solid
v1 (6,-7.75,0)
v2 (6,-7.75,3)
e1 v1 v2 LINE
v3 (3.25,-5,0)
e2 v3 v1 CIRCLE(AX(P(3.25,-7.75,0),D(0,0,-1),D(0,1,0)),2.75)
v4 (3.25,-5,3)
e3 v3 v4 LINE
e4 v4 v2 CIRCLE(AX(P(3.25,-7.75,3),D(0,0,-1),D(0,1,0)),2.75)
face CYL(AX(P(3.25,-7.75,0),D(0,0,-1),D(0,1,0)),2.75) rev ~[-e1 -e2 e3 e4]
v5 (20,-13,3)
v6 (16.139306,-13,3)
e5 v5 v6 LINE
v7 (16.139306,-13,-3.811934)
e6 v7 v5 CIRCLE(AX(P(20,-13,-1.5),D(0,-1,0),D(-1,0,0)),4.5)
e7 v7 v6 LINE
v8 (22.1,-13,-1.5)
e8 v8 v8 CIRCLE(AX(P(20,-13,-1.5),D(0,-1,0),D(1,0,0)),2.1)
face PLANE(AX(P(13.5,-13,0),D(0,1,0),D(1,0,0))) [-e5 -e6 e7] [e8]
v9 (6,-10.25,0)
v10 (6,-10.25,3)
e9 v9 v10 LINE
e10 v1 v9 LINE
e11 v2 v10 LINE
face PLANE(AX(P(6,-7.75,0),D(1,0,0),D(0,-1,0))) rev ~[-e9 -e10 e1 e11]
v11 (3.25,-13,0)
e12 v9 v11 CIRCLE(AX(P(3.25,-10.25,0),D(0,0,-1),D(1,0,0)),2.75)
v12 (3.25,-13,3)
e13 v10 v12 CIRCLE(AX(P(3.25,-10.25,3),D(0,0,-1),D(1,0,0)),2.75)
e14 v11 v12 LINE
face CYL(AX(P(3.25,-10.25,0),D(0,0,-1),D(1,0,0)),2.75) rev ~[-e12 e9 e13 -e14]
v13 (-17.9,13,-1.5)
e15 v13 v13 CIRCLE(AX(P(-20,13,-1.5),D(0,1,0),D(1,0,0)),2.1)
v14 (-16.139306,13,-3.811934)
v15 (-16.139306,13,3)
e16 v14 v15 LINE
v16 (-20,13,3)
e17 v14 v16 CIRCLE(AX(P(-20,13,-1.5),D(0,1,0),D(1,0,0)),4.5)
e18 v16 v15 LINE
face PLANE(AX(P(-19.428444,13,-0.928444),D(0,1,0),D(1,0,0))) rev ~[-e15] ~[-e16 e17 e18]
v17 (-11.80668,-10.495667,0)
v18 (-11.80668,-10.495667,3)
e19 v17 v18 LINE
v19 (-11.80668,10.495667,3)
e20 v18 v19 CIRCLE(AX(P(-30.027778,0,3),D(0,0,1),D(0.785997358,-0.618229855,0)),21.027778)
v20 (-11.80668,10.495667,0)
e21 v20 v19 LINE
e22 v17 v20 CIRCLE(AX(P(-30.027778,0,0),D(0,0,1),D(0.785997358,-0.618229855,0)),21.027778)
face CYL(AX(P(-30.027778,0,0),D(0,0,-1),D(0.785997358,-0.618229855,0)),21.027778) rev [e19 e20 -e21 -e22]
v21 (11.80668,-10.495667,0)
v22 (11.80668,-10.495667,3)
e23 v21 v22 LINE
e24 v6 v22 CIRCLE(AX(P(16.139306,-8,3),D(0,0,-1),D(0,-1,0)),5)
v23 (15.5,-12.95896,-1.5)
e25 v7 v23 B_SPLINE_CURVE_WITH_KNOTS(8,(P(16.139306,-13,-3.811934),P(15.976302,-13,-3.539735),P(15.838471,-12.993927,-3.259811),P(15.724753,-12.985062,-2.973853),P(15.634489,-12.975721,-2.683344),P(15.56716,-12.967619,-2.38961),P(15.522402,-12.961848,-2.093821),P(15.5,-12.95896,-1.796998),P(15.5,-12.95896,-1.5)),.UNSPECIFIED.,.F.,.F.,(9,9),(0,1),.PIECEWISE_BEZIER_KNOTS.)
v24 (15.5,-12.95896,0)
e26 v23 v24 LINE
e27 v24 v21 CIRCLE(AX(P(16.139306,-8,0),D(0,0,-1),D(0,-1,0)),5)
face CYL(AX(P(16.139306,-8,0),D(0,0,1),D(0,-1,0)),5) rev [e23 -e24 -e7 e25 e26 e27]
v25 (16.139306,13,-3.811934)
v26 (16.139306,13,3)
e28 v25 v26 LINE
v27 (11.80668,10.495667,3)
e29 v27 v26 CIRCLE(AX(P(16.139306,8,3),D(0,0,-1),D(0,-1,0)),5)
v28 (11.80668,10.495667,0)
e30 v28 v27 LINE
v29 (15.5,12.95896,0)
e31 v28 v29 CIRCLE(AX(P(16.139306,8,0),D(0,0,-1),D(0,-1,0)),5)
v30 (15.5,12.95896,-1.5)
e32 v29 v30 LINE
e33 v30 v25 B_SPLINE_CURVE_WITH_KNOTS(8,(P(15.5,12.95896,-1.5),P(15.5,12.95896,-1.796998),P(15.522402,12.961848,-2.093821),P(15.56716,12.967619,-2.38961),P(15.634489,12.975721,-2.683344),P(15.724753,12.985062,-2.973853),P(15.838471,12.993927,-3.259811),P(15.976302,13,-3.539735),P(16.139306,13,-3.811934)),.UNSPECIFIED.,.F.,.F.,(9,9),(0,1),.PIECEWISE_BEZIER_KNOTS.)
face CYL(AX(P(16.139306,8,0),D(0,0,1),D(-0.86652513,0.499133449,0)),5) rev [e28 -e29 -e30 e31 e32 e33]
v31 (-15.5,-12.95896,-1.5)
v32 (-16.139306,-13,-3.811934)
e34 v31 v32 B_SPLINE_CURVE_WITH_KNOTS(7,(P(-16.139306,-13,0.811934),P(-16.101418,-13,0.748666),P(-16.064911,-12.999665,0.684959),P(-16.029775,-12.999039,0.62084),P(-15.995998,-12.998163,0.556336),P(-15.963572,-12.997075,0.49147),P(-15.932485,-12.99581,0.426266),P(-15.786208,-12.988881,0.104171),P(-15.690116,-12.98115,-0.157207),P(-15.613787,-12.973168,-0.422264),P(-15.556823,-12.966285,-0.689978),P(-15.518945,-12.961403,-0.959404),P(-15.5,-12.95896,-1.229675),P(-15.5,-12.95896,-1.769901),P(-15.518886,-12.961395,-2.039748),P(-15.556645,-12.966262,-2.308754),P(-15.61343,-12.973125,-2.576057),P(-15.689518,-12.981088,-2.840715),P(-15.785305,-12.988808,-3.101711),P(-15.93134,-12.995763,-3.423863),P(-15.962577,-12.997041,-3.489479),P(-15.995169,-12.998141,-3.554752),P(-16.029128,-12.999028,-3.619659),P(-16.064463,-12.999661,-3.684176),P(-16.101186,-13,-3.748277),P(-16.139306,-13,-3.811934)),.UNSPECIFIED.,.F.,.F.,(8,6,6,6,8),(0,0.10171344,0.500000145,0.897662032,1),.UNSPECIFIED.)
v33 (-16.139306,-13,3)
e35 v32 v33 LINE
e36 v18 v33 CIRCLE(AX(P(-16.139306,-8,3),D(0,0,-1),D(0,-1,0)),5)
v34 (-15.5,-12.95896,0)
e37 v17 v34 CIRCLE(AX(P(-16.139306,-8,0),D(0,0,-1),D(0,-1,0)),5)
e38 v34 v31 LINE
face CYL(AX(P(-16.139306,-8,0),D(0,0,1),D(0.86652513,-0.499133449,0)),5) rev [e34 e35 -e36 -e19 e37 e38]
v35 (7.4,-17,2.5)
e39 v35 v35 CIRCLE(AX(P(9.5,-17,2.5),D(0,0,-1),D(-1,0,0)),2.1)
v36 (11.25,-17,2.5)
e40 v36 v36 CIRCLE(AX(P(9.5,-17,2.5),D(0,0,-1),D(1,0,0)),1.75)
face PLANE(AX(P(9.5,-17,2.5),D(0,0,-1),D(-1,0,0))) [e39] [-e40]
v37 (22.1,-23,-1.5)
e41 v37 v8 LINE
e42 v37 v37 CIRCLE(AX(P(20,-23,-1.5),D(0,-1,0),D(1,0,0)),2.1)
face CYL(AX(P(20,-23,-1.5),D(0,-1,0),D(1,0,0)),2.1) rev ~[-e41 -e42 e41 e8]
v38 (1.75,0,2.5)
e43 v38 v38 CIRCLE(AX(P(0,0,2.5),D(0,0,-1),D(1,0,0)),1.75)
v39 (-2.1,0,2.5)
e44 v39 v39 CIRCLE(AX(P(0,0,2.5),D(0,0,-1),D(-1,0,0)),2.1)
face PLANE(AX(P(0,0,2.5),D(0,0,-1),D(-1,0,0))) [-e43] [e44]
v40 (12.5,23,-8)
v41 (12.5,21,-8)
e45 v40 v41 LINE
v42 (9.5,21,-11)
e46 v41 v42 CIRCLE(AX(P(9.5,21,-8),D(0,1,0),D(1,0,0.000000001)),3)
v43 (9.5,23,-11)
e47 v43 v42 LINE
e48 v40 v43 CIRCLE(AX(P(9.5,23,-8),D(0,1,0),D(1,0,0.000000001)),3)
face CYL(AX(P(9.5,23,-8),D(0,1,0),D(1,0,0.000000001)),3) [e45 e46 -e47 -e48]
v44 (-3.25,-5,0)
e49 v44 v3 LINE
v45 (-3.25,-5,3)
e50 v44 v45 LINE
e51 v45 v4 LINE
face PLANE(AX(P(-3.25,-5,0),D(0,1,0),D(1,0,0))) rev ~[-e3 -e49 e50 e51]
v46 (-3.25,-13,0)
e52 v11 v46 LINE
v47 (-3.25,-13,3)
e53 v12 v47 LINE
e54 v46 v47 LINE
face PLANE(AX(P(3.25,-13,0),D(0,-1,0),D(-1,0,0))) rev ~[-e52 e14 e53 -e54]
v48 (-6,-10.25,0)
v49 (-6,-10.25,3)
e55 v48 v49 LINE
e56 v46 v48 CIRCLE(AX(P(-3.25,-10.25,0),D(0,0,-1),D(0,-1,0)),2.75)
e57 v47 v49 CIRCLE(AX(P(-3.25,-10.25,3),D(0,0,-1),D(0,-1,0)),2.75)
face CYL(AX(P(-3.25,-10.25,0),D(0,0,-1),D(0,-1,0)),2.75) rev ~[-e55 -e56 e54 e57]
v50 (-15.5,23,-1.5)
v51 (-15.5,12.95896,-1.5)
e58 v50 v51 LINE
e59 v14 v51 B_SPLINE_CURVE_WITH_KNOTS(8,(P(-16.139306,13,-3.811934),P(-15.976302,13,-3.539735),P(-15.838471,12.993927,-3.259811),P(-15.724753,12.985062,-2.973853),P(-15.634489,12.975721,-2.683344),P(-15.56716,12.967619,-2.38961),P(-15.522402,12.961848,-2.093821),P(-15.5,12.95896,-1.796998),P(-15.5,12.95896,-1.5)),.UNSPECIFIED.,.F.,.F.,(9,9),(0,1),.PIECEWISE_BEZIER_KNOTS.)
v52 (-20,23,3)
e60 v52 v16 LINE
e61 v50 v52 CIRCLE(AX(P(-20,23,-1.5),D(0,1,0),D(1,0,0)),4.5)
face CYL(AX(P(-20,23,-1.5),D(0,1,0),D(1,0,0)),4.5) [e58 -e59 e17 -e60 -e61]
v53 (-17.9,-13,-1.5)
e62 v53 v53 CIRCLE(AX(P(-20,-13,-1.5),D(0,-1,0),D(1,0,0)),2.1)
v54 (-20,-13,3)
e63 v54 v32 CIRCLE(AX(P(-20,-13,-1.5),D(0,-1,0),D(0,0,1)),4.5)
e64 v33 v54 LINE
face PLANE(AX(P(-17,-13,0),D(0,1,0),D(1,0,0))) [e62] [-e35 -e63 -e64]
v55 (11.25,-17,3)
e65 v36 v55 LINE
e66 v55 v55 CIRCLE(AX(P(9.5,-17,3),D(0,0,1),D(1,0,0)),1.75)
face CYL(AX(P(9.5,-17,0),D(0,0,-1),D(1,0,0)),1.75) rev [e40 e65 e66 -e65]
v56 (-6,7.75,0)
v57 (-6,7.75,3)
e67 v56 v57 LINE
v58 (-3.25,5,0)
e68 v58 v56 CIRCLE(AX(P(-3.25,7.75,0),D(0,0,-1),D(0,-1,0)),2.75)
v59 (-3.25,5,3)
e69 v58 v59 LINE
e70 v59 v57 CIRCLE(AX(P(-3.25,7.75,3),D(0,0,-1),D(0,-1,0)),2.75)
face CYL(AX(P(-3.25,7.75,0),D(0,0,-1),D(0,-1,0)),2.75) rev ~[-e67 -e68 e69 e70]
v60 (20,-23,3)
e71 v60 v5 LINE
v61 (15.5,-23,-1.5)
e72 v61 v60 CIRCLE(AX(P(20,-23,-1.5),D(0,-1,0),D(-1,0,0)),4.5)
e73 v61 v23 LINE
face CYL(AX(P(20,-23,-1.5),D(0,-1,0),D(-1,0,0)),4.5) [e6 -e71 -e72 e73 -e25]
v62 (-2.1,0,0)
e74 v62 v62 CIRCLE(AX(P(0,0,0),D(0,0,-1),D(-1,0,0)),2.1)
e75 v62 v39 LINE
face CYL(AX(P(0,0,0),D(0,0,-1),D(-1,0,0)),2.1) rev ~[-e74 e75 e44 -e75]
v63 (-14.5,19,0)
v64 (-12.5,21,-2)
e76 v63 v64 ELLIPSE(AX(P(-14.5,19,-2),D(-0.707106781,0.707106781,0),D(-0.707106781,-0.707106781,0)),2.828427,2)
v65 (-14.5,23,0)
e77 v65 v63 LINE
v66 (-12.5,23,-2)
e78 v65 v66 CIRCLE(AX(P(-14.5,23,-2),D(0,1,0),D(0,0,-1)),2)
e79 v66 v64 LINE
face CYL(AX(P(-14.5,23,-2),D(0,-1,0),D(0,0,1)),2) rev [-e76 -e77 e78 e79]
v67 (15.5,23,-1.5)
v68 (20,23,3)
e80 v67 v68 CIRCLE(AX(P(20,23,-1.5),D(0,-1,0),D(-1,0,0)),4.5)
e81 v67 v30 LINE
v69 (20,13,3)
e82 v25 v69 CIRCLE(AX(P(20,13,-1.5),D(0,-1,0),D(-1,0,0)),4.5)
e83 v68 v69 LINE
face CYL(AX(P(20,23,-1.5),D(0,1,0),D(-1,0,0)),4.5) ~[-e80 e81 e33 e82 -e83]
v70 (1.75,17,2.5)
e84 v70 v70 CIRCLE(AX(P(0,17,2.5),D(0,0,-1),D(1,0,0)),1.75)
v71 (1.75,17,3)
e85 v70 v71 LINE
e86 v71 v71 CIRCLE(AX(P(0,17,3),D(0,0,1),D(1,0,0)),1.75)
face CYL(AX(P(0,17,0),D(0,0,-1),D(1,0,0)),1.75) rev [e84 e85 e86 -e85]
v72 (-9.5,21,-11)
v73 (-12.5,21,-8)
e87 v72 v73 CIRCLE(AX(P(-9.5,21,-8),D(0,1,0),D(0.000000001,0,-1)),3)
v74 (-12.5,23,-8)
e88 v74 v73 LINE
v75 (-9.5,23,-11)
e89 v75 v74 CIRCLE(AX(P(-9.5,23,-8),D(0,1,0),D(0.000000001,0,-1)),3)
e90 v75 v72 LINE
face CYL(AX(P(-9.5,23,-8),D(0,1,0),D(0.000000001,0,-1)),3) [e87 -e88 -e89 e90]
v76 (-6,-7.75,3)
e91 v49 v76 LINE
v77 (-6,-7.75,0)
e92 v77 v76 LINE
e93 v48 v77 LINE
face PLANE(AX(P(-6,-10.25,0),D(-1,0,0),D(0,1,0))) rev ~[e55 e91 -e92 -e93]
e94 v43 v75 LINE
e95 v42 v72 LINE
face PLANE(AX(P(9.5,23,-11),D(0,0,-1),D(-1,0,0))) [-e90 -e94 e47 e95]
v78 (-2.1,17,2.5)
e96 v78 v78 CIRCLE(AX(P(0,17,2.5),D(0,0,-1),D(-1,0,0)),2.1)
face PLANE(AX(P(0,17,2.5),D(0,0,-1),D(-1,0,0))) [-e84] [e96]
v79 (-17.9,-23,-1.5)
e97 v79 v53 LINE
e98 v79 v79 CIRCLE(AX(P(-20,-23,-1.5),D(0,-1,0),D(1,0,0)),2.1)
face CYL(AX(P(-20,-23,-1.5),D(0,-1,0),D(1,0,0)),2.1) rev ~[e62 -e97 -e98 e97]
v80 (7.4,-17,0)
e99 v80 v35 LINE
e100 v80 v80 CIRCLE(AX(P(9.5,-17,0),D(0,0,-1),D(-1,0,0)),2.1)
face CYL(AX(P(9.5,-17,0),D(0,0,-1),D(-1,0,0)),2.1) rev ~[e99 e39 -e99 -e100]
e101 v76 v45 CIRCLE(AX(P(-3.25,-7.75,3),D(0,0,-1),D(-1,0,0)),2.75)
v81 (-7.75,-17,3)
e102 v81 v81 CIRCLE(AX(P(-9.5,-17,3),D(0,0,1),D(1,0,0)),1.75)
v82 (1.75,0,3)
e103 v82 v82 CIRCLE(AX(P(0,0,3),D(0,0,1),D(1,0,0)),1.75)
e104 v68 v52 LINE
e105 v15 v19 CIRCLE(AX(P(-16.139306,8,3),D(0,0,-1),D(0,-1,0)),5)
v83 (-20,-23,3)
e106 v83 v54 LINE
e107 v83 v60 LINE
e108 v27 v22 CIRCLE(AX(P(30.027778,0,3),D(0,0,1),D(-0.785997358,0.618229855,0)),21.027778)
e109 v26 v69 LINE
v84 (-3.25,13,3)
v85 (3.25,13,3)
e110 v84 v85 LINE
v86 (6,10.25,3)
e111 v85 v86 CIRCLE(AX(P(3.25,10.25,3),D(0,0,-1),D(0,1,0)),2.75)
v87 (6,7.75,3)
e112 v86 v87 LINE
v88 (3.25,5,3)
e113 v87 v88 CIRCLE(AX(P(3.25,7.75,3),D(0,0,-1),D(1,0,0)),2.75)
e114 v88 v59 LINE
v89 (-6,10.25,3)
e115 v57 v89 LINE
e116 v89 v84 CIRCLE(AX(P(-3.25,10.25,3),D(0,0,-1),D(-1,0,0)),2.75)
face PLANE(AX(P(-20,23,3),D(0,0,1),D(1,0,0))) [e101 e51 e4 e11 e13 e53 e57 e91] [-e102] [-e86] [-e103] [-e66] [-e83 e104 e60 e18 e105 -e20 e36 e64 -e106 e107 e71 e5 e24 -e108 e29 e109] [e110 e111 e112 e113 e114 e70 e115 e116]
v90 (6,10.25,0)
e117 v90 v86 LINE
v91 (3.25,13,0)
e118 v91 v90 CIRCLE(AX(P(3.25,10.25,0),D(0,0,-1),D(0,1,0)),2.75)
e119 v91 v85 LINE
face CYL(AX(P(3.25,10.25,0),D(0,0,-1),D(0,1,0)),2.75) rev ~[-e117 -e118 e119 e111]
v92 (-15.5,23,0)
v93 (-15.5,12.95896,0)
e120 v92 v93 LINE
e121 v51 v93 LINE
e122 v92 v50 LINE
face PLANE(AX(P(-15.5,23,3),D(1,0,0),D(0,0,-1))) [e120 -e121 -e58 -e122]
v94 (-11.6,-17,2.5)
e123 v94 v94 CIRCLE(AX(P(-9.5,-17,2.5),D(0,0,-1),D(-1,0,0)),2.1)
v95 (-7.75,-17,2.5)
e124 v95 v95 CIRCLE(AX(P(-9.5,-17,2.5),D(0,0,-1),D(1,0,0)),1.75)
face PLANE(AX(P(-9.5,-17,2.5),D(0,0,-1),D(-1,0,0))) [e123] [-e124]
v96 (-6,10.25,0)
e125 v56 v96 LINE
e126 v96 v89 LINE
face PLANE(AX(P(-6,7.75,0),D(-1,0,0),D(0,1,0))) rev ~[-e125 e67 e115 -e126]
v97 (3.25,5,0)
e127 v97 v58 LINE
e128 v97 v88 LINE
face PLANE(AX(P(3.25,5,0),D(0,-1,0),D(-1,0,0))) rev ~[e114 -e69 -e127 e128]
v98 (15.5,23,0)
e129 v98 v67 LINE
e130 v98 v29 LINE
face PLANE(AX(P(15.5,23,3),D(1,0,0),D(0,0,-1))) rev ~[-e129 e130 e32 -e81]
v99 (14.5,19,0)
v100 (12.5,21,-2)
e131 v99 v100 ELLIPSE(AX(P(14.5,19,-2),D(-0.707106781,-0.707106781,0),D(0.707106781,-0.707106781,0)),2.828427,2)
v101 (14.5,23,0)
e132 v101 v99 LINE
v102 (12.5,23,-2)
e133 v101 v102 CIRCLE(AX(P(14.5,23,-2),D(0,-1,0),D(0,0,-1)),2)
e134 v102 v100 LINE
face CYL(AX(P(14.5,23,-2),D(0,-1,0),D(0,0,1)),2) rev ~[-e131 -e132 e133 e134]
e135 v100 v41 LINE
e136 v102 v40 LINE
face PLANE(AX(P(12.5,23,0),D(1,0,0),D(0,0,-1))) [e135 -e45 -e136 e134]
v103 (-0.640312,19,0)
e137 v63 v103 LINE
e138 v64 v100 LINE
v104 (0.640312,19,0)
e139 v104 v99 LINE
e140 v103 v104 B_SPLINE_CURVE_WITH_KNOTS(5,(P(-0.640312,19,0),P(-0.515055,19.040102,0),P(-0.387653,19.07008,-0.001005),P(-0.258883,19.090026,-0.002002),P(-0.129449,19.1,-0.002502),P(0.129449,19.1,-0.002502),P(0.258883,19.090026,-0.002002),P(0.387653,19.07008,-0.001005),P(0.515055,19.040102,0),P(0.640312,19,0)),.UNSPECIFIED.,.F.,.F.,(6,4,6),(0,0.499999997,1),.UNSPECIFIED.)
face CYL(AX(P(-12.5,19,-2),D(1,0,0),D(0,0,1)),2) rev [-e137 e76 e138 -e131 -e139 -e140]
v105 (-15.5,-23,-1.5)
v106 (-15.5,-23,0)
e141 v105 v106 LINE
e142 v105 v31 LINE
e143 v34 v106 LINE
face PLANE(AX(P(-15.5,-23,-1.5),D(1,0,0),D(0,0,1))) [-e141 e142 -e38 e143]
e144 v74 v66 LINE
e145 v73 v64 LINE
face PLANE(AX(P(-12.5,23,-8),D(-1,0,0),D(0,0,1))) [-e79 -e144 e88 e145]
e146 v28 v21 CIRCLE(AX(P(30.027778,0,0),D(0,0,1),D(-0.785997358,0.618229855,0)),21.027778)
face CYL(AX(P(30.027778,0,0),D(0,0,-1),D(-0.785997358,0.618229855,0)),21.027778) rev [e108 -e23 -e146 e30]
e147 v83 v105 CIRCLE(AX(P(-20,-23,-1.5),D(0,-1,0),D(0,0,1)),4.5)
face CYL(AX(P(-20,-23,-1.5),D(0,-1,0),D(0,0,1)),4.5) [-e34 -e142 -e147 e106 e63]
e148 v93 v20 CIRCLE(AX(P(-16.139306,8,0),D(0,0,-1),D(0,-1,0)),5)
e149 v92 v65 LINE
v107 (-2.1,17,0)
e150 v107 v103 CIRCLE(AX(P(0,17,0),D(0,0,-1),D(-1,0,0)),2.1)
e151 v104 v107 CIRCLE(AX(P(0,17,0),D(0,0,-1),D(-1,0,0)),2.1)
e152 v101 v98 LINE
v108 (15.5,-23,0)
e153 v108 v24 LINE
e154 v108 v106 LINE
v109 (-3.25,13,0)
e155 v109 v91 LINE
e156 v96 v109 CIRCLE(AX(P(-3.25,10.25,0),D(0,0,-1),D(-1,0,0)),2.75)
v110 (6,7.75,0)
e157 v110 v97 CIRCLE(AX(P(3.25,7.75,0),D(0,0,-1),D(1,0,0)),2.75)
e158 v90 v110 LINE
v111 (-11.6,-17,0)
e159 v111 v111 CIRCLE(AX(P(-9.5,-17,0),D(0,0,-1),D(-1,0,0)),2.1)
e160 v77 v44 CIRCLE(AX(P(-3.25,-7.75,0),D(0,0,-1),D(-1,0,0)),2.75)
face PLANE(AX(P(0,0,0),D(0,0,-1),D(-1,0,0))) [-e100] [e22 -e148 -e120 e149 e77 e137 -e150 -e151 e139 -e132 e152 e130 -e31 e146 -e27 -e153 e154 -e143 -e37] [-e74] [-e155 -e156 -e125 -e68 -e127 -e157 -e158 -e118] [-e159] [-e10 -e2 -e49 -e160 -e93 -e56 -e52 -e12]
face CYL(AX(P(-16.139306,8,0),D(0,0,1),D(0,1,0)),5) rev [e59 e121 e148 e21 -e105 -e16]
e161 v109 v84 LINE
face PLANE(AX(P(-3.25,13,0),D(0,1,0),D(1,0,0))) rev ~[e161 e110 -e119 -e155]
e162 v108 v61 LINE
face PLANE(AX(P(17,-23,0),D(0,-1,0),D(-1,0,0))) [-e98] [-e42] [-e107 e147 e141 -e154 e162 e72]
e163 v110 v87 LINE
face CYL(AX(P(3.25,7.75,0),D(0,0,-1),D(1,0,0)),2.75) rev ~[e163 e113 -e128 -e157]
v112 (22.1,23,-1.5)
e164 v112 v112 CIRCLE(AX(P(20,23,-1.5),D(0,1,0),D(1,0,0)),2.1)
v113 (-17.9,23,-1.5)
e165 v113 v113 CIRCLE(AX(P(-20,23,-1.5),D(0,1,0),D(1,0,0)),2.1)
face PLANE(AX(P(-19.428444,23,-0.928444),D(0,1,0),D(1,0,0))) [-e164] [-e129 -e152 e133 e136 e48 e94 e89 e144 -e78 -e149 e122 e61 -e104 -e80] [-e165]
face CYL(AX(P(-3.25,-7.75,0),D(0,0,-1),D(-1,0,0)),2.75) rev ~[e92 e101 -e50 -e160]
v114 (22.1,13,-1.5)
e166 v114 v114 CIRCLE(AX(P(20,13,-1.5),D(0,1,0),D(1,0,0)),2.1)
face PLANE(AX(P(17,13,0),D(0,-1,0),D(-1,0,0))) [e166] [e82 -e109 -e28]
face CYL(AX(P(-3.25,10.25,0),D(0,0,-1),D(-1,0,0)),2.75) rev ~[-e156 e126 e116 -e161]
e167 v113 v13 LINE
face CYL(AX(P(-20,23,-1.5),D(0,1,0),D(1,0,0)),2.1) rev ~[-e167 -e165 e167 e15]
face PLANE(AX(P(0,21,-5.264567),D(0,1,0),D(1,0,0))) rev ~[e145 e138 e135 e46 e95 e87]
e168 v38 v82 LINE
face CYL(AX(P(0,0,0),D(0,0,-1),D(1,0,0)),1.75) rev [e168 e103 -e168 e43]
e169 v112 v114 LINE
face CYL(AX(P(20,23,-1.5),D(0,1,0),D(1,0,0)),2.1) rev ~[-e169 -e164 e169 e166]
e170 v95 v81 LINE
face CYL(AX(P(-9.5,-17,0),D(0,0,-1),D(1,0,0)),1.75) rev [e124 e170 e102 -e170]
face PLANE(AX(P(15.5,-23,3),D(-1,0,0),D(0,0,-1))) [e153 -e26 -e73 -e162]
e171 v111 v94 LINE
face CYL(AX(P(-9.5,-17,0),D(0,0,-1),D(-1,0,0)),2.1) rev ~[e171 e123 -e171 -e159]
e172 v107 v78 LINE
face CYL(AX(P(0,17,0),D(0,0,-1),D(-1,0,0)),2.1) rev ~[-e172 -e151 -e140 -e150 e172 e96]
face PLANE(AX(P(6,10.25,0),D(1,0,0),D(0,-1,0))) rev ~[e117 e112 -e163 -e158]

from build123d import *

# Parameters (mm, degrees)
SKETCH1_R               = 1.75
BOSS_EXTRUDE1_DEPTH     = 3
SKETCH2_R               = 2.1
BOSS_EXTRUDE2_DEPTH     = 10
SKETCH3_R               = 2.1
BOSS_EXTRUDE3_DEPTH     = 10
BOSS_EXTRUDE4_DEPTH     = 2
FILLET1_R               = 2
SKETCH6_R               = 2.1
CUT_EXTRUDE1_DEPTH      = 12
CUT_EXTRUDE1_DEPTH_BACK = 2.5
FILLET2_R               = 5


with BuildPart() as part:
    # Sketch1 → Boss-Extrude1 (new body)
    with BuildSketch(Plane.XY):
        with BuildLine():
            Line((-17, 23), (17, 23))
            Line((17, 23), (17, 13))
            Line((17, 13), (13.5, 13))
            ThreePointArc((13.5, 13), (9, 0), (13.5, -13))
            Line((13.5, -13), (17, -13))
            Line((17, -13), (17, -23))
            Line((17, -23), (-17, -23))
            Line((-17, -23), (-17, -13))
            Line((-17, -13), (-13.5, -13))
            ThreePointArc((-13.5, -13), (-9, 0), (-13.5, 13))
            Line((-13.5, 13), (-17, 13))
            Line((-17, 13), (-17, 23))
        make_face()
        Circle(SKETCH1_R, mode=Mode.SUBTRACT)
        with Locations((0, 17)):
            Circle(SKETCH1_R, mode=Mode.SUBTRACT)
        with Locations((-9.5, -17)):
            Circle(SKETCH1_R, mode=Mode.SUBTRACT)
        with Locations((9.5, -17)):
            Circle(SKETCH1_R, mode=Mode.SUBTRACT)
        with BuildLine():
            Line((-3.25, 13), (3.25, 13))
            ThreePointArc((3.25, 13), (5.194543648, 12.194543648), (6, 10.25))
            Line((6, 10.25), (6, 7.75))
            ThreePointArc((6, 7.75), (5.194543648, 5.805456352), (3.25, 5))
            Line((3.25, 5), (-3.25, 5))
            ThreePointArc((-3.25, 5), (-5.194543648, 5.805456352), (-6, 7.75))
            Line((-6, 7.75), (-6, 10.25))
            ThreePointArc((-6, 10.25), (-5.194543648, 12.194543648), (-3.25, 13))
        make_face(mode=Mode.SUBTRACT)
        with BuildLine():
            Line((-3.25, -5), (3.25, -5))
            ThreePointArc((3.25, -5), (5.194543648, -5.805456352), (6, -7.75))
            Line((6, -7.75), (6, -10.25))
            ThreePointArc((6, -10.25), (5.194543648, -12.194543648), (3.25, -13))
            Line((3.25, -13), (-3.25, -13))
            ThreePointArc((-3.25, -13), (-5.194543648, -12.194543648), (-6, -10.25))
            Line((-6, -10.25), (-6, -7.75))
            ThreePointArc((-6, -7.75), (-5.194543648, -5.805456352), (-3.25, -5))
        make_face(mode=Mode.SUBTRACT)
    extrude(amount=BOSS_EXTRUDE1_DEPTH)

    # Sketch2 → Boss-Extrude2 (add)
    with BuildSketch(Plane(origin=(0, 23, 0), x_dir=(1, 0, 0), z_dir=(0, 1, 0))):
        with BuildLine():
            Line((-20, -3), (-15.5, -3))
            Line((-15.5, -3), (-15.5, 1.5))
            ThreePointArc((-15.5, 1.5), (-23.181980515, 4.681980515), (-20, -3))
        make_face()
        with Locations((-20, 1.5)):
            Circle(SKETCH2_R, mode=Mode.SUBTRACT)
        with BuildLine():
            Line((20, -3), (15.5, -3))
            Line((15.5, -3), (15.5, 1.5))
            ThreePointArc((15.5, 1.5), (23.181980515, 4.681980515), (20, -3))
        make_face()
        with Locations((20, 1.5)):
            Circle(SKETCH2_R, mode=Mode.SUBTRACT)
    extrude(amount=-BOSS_EXTRUDE2_DEPTH)

    # Sketch3 → Boss-Extrude3 (add)
    with BuildSketch(Plane.XZ.offset(23)):
        with BuildLine():
            Line((-15.5, 3), (-20, 3))
            ThreePointArc((-20, 3), (-23.181980515, -4.681980515), (-15.5, -1.5))
            Line((-15.5, -1.5), (-15.5, 3))
        make_face()
        with Locations((-20, -1.5)):
            Circle(SKETCH3_R, mode=Mode.SUBTRACT)
        with BuildLine():
            Line((15.5, 3), (15.5, -1.5))
            ThreePointArc((15.5, -1.5), (23.181980515, -4.681980515), (20, 3))
            Line((20, 3), (15.5, 3))
        make_face()
        with Locations((20, -1.5)):
            Circle(SKETCH3_R, mode=Mode.SUBTRACT)
    extrude(amount=-BOSS_EXTRUDE3_DEPTH)

    # Sketch4 → Boss-Extrude4 (add)
    with BuildSketch(Plane(origin=(0, 23, 0), x_dir=(1, 0, 0), z_dir=(0, 1, 0))):
        with BuildLine():
            Line((-12.5, 0), (12.5, 0))
            Line((12.5, 0), (12.5, 8))
            ThreePointArc((12.5, 8), (11.621320344, 10.121320344), (9.5, 11))
            Line((9.5, 11), (-9.5, 11))
            ThreePointArc((-9.5, 11), (-11.621320344, 10.121320344), (-12.5, 8))
            Line((-12.5, 8), (-12.5, 0))
        make_face()
    extrude(amount=-BOSS_EXTRUDE4_DEPTH)

    # Fillet1
    fillet1_edges = [part.edges().sort_by_distance(p)[0] for p in [
        (-12.5, 22, 0),
        (0, 21, 0),
        (12.5, 22, 0),
    ]]
    fillet(fillet1_edges, radius=FILLET1_R)

    # Sketch6 → Cut-Extrude1 (cut, two sides)
    with BuildSketch(Plane(origin=(0, 0, 0), x_dir=(-1, 0, 0), z_dir=(0, 0, -1))) as cut_extrude1_sk:
        Circle(SKETCH6_R)
        with Locations((0, 17)):
            Circle(SKETCH6_R)
        with Locations((-9.5, -17)):
            Circle(SKETCH6_R)
        with Locations((9.5, -17)):
            Circle(SKETCH6_R)
    extrude(amount=CUT_EXTRUDE1_DEPTH, mode=Mode.SUBTRACT)
    extrude(cut_extrude1_sk.sketch, amount=-CUT_EXTRUDE1_DEPTH_BACK, mode=Mode.SUBTRACT)

    # Fillet2
    fillet2_edges = [part.edges().sort_by_distance(p)[0] for p in [
        (-13.5, -13, 1.5),
        (13.5, -13, 1.5),
        (-13.5, 13, 1.5),
        (13.5, 13, 1.5),
    ]]
    fillet(fillet2_edges, radius=FILLET2_R)


solid = part.part
